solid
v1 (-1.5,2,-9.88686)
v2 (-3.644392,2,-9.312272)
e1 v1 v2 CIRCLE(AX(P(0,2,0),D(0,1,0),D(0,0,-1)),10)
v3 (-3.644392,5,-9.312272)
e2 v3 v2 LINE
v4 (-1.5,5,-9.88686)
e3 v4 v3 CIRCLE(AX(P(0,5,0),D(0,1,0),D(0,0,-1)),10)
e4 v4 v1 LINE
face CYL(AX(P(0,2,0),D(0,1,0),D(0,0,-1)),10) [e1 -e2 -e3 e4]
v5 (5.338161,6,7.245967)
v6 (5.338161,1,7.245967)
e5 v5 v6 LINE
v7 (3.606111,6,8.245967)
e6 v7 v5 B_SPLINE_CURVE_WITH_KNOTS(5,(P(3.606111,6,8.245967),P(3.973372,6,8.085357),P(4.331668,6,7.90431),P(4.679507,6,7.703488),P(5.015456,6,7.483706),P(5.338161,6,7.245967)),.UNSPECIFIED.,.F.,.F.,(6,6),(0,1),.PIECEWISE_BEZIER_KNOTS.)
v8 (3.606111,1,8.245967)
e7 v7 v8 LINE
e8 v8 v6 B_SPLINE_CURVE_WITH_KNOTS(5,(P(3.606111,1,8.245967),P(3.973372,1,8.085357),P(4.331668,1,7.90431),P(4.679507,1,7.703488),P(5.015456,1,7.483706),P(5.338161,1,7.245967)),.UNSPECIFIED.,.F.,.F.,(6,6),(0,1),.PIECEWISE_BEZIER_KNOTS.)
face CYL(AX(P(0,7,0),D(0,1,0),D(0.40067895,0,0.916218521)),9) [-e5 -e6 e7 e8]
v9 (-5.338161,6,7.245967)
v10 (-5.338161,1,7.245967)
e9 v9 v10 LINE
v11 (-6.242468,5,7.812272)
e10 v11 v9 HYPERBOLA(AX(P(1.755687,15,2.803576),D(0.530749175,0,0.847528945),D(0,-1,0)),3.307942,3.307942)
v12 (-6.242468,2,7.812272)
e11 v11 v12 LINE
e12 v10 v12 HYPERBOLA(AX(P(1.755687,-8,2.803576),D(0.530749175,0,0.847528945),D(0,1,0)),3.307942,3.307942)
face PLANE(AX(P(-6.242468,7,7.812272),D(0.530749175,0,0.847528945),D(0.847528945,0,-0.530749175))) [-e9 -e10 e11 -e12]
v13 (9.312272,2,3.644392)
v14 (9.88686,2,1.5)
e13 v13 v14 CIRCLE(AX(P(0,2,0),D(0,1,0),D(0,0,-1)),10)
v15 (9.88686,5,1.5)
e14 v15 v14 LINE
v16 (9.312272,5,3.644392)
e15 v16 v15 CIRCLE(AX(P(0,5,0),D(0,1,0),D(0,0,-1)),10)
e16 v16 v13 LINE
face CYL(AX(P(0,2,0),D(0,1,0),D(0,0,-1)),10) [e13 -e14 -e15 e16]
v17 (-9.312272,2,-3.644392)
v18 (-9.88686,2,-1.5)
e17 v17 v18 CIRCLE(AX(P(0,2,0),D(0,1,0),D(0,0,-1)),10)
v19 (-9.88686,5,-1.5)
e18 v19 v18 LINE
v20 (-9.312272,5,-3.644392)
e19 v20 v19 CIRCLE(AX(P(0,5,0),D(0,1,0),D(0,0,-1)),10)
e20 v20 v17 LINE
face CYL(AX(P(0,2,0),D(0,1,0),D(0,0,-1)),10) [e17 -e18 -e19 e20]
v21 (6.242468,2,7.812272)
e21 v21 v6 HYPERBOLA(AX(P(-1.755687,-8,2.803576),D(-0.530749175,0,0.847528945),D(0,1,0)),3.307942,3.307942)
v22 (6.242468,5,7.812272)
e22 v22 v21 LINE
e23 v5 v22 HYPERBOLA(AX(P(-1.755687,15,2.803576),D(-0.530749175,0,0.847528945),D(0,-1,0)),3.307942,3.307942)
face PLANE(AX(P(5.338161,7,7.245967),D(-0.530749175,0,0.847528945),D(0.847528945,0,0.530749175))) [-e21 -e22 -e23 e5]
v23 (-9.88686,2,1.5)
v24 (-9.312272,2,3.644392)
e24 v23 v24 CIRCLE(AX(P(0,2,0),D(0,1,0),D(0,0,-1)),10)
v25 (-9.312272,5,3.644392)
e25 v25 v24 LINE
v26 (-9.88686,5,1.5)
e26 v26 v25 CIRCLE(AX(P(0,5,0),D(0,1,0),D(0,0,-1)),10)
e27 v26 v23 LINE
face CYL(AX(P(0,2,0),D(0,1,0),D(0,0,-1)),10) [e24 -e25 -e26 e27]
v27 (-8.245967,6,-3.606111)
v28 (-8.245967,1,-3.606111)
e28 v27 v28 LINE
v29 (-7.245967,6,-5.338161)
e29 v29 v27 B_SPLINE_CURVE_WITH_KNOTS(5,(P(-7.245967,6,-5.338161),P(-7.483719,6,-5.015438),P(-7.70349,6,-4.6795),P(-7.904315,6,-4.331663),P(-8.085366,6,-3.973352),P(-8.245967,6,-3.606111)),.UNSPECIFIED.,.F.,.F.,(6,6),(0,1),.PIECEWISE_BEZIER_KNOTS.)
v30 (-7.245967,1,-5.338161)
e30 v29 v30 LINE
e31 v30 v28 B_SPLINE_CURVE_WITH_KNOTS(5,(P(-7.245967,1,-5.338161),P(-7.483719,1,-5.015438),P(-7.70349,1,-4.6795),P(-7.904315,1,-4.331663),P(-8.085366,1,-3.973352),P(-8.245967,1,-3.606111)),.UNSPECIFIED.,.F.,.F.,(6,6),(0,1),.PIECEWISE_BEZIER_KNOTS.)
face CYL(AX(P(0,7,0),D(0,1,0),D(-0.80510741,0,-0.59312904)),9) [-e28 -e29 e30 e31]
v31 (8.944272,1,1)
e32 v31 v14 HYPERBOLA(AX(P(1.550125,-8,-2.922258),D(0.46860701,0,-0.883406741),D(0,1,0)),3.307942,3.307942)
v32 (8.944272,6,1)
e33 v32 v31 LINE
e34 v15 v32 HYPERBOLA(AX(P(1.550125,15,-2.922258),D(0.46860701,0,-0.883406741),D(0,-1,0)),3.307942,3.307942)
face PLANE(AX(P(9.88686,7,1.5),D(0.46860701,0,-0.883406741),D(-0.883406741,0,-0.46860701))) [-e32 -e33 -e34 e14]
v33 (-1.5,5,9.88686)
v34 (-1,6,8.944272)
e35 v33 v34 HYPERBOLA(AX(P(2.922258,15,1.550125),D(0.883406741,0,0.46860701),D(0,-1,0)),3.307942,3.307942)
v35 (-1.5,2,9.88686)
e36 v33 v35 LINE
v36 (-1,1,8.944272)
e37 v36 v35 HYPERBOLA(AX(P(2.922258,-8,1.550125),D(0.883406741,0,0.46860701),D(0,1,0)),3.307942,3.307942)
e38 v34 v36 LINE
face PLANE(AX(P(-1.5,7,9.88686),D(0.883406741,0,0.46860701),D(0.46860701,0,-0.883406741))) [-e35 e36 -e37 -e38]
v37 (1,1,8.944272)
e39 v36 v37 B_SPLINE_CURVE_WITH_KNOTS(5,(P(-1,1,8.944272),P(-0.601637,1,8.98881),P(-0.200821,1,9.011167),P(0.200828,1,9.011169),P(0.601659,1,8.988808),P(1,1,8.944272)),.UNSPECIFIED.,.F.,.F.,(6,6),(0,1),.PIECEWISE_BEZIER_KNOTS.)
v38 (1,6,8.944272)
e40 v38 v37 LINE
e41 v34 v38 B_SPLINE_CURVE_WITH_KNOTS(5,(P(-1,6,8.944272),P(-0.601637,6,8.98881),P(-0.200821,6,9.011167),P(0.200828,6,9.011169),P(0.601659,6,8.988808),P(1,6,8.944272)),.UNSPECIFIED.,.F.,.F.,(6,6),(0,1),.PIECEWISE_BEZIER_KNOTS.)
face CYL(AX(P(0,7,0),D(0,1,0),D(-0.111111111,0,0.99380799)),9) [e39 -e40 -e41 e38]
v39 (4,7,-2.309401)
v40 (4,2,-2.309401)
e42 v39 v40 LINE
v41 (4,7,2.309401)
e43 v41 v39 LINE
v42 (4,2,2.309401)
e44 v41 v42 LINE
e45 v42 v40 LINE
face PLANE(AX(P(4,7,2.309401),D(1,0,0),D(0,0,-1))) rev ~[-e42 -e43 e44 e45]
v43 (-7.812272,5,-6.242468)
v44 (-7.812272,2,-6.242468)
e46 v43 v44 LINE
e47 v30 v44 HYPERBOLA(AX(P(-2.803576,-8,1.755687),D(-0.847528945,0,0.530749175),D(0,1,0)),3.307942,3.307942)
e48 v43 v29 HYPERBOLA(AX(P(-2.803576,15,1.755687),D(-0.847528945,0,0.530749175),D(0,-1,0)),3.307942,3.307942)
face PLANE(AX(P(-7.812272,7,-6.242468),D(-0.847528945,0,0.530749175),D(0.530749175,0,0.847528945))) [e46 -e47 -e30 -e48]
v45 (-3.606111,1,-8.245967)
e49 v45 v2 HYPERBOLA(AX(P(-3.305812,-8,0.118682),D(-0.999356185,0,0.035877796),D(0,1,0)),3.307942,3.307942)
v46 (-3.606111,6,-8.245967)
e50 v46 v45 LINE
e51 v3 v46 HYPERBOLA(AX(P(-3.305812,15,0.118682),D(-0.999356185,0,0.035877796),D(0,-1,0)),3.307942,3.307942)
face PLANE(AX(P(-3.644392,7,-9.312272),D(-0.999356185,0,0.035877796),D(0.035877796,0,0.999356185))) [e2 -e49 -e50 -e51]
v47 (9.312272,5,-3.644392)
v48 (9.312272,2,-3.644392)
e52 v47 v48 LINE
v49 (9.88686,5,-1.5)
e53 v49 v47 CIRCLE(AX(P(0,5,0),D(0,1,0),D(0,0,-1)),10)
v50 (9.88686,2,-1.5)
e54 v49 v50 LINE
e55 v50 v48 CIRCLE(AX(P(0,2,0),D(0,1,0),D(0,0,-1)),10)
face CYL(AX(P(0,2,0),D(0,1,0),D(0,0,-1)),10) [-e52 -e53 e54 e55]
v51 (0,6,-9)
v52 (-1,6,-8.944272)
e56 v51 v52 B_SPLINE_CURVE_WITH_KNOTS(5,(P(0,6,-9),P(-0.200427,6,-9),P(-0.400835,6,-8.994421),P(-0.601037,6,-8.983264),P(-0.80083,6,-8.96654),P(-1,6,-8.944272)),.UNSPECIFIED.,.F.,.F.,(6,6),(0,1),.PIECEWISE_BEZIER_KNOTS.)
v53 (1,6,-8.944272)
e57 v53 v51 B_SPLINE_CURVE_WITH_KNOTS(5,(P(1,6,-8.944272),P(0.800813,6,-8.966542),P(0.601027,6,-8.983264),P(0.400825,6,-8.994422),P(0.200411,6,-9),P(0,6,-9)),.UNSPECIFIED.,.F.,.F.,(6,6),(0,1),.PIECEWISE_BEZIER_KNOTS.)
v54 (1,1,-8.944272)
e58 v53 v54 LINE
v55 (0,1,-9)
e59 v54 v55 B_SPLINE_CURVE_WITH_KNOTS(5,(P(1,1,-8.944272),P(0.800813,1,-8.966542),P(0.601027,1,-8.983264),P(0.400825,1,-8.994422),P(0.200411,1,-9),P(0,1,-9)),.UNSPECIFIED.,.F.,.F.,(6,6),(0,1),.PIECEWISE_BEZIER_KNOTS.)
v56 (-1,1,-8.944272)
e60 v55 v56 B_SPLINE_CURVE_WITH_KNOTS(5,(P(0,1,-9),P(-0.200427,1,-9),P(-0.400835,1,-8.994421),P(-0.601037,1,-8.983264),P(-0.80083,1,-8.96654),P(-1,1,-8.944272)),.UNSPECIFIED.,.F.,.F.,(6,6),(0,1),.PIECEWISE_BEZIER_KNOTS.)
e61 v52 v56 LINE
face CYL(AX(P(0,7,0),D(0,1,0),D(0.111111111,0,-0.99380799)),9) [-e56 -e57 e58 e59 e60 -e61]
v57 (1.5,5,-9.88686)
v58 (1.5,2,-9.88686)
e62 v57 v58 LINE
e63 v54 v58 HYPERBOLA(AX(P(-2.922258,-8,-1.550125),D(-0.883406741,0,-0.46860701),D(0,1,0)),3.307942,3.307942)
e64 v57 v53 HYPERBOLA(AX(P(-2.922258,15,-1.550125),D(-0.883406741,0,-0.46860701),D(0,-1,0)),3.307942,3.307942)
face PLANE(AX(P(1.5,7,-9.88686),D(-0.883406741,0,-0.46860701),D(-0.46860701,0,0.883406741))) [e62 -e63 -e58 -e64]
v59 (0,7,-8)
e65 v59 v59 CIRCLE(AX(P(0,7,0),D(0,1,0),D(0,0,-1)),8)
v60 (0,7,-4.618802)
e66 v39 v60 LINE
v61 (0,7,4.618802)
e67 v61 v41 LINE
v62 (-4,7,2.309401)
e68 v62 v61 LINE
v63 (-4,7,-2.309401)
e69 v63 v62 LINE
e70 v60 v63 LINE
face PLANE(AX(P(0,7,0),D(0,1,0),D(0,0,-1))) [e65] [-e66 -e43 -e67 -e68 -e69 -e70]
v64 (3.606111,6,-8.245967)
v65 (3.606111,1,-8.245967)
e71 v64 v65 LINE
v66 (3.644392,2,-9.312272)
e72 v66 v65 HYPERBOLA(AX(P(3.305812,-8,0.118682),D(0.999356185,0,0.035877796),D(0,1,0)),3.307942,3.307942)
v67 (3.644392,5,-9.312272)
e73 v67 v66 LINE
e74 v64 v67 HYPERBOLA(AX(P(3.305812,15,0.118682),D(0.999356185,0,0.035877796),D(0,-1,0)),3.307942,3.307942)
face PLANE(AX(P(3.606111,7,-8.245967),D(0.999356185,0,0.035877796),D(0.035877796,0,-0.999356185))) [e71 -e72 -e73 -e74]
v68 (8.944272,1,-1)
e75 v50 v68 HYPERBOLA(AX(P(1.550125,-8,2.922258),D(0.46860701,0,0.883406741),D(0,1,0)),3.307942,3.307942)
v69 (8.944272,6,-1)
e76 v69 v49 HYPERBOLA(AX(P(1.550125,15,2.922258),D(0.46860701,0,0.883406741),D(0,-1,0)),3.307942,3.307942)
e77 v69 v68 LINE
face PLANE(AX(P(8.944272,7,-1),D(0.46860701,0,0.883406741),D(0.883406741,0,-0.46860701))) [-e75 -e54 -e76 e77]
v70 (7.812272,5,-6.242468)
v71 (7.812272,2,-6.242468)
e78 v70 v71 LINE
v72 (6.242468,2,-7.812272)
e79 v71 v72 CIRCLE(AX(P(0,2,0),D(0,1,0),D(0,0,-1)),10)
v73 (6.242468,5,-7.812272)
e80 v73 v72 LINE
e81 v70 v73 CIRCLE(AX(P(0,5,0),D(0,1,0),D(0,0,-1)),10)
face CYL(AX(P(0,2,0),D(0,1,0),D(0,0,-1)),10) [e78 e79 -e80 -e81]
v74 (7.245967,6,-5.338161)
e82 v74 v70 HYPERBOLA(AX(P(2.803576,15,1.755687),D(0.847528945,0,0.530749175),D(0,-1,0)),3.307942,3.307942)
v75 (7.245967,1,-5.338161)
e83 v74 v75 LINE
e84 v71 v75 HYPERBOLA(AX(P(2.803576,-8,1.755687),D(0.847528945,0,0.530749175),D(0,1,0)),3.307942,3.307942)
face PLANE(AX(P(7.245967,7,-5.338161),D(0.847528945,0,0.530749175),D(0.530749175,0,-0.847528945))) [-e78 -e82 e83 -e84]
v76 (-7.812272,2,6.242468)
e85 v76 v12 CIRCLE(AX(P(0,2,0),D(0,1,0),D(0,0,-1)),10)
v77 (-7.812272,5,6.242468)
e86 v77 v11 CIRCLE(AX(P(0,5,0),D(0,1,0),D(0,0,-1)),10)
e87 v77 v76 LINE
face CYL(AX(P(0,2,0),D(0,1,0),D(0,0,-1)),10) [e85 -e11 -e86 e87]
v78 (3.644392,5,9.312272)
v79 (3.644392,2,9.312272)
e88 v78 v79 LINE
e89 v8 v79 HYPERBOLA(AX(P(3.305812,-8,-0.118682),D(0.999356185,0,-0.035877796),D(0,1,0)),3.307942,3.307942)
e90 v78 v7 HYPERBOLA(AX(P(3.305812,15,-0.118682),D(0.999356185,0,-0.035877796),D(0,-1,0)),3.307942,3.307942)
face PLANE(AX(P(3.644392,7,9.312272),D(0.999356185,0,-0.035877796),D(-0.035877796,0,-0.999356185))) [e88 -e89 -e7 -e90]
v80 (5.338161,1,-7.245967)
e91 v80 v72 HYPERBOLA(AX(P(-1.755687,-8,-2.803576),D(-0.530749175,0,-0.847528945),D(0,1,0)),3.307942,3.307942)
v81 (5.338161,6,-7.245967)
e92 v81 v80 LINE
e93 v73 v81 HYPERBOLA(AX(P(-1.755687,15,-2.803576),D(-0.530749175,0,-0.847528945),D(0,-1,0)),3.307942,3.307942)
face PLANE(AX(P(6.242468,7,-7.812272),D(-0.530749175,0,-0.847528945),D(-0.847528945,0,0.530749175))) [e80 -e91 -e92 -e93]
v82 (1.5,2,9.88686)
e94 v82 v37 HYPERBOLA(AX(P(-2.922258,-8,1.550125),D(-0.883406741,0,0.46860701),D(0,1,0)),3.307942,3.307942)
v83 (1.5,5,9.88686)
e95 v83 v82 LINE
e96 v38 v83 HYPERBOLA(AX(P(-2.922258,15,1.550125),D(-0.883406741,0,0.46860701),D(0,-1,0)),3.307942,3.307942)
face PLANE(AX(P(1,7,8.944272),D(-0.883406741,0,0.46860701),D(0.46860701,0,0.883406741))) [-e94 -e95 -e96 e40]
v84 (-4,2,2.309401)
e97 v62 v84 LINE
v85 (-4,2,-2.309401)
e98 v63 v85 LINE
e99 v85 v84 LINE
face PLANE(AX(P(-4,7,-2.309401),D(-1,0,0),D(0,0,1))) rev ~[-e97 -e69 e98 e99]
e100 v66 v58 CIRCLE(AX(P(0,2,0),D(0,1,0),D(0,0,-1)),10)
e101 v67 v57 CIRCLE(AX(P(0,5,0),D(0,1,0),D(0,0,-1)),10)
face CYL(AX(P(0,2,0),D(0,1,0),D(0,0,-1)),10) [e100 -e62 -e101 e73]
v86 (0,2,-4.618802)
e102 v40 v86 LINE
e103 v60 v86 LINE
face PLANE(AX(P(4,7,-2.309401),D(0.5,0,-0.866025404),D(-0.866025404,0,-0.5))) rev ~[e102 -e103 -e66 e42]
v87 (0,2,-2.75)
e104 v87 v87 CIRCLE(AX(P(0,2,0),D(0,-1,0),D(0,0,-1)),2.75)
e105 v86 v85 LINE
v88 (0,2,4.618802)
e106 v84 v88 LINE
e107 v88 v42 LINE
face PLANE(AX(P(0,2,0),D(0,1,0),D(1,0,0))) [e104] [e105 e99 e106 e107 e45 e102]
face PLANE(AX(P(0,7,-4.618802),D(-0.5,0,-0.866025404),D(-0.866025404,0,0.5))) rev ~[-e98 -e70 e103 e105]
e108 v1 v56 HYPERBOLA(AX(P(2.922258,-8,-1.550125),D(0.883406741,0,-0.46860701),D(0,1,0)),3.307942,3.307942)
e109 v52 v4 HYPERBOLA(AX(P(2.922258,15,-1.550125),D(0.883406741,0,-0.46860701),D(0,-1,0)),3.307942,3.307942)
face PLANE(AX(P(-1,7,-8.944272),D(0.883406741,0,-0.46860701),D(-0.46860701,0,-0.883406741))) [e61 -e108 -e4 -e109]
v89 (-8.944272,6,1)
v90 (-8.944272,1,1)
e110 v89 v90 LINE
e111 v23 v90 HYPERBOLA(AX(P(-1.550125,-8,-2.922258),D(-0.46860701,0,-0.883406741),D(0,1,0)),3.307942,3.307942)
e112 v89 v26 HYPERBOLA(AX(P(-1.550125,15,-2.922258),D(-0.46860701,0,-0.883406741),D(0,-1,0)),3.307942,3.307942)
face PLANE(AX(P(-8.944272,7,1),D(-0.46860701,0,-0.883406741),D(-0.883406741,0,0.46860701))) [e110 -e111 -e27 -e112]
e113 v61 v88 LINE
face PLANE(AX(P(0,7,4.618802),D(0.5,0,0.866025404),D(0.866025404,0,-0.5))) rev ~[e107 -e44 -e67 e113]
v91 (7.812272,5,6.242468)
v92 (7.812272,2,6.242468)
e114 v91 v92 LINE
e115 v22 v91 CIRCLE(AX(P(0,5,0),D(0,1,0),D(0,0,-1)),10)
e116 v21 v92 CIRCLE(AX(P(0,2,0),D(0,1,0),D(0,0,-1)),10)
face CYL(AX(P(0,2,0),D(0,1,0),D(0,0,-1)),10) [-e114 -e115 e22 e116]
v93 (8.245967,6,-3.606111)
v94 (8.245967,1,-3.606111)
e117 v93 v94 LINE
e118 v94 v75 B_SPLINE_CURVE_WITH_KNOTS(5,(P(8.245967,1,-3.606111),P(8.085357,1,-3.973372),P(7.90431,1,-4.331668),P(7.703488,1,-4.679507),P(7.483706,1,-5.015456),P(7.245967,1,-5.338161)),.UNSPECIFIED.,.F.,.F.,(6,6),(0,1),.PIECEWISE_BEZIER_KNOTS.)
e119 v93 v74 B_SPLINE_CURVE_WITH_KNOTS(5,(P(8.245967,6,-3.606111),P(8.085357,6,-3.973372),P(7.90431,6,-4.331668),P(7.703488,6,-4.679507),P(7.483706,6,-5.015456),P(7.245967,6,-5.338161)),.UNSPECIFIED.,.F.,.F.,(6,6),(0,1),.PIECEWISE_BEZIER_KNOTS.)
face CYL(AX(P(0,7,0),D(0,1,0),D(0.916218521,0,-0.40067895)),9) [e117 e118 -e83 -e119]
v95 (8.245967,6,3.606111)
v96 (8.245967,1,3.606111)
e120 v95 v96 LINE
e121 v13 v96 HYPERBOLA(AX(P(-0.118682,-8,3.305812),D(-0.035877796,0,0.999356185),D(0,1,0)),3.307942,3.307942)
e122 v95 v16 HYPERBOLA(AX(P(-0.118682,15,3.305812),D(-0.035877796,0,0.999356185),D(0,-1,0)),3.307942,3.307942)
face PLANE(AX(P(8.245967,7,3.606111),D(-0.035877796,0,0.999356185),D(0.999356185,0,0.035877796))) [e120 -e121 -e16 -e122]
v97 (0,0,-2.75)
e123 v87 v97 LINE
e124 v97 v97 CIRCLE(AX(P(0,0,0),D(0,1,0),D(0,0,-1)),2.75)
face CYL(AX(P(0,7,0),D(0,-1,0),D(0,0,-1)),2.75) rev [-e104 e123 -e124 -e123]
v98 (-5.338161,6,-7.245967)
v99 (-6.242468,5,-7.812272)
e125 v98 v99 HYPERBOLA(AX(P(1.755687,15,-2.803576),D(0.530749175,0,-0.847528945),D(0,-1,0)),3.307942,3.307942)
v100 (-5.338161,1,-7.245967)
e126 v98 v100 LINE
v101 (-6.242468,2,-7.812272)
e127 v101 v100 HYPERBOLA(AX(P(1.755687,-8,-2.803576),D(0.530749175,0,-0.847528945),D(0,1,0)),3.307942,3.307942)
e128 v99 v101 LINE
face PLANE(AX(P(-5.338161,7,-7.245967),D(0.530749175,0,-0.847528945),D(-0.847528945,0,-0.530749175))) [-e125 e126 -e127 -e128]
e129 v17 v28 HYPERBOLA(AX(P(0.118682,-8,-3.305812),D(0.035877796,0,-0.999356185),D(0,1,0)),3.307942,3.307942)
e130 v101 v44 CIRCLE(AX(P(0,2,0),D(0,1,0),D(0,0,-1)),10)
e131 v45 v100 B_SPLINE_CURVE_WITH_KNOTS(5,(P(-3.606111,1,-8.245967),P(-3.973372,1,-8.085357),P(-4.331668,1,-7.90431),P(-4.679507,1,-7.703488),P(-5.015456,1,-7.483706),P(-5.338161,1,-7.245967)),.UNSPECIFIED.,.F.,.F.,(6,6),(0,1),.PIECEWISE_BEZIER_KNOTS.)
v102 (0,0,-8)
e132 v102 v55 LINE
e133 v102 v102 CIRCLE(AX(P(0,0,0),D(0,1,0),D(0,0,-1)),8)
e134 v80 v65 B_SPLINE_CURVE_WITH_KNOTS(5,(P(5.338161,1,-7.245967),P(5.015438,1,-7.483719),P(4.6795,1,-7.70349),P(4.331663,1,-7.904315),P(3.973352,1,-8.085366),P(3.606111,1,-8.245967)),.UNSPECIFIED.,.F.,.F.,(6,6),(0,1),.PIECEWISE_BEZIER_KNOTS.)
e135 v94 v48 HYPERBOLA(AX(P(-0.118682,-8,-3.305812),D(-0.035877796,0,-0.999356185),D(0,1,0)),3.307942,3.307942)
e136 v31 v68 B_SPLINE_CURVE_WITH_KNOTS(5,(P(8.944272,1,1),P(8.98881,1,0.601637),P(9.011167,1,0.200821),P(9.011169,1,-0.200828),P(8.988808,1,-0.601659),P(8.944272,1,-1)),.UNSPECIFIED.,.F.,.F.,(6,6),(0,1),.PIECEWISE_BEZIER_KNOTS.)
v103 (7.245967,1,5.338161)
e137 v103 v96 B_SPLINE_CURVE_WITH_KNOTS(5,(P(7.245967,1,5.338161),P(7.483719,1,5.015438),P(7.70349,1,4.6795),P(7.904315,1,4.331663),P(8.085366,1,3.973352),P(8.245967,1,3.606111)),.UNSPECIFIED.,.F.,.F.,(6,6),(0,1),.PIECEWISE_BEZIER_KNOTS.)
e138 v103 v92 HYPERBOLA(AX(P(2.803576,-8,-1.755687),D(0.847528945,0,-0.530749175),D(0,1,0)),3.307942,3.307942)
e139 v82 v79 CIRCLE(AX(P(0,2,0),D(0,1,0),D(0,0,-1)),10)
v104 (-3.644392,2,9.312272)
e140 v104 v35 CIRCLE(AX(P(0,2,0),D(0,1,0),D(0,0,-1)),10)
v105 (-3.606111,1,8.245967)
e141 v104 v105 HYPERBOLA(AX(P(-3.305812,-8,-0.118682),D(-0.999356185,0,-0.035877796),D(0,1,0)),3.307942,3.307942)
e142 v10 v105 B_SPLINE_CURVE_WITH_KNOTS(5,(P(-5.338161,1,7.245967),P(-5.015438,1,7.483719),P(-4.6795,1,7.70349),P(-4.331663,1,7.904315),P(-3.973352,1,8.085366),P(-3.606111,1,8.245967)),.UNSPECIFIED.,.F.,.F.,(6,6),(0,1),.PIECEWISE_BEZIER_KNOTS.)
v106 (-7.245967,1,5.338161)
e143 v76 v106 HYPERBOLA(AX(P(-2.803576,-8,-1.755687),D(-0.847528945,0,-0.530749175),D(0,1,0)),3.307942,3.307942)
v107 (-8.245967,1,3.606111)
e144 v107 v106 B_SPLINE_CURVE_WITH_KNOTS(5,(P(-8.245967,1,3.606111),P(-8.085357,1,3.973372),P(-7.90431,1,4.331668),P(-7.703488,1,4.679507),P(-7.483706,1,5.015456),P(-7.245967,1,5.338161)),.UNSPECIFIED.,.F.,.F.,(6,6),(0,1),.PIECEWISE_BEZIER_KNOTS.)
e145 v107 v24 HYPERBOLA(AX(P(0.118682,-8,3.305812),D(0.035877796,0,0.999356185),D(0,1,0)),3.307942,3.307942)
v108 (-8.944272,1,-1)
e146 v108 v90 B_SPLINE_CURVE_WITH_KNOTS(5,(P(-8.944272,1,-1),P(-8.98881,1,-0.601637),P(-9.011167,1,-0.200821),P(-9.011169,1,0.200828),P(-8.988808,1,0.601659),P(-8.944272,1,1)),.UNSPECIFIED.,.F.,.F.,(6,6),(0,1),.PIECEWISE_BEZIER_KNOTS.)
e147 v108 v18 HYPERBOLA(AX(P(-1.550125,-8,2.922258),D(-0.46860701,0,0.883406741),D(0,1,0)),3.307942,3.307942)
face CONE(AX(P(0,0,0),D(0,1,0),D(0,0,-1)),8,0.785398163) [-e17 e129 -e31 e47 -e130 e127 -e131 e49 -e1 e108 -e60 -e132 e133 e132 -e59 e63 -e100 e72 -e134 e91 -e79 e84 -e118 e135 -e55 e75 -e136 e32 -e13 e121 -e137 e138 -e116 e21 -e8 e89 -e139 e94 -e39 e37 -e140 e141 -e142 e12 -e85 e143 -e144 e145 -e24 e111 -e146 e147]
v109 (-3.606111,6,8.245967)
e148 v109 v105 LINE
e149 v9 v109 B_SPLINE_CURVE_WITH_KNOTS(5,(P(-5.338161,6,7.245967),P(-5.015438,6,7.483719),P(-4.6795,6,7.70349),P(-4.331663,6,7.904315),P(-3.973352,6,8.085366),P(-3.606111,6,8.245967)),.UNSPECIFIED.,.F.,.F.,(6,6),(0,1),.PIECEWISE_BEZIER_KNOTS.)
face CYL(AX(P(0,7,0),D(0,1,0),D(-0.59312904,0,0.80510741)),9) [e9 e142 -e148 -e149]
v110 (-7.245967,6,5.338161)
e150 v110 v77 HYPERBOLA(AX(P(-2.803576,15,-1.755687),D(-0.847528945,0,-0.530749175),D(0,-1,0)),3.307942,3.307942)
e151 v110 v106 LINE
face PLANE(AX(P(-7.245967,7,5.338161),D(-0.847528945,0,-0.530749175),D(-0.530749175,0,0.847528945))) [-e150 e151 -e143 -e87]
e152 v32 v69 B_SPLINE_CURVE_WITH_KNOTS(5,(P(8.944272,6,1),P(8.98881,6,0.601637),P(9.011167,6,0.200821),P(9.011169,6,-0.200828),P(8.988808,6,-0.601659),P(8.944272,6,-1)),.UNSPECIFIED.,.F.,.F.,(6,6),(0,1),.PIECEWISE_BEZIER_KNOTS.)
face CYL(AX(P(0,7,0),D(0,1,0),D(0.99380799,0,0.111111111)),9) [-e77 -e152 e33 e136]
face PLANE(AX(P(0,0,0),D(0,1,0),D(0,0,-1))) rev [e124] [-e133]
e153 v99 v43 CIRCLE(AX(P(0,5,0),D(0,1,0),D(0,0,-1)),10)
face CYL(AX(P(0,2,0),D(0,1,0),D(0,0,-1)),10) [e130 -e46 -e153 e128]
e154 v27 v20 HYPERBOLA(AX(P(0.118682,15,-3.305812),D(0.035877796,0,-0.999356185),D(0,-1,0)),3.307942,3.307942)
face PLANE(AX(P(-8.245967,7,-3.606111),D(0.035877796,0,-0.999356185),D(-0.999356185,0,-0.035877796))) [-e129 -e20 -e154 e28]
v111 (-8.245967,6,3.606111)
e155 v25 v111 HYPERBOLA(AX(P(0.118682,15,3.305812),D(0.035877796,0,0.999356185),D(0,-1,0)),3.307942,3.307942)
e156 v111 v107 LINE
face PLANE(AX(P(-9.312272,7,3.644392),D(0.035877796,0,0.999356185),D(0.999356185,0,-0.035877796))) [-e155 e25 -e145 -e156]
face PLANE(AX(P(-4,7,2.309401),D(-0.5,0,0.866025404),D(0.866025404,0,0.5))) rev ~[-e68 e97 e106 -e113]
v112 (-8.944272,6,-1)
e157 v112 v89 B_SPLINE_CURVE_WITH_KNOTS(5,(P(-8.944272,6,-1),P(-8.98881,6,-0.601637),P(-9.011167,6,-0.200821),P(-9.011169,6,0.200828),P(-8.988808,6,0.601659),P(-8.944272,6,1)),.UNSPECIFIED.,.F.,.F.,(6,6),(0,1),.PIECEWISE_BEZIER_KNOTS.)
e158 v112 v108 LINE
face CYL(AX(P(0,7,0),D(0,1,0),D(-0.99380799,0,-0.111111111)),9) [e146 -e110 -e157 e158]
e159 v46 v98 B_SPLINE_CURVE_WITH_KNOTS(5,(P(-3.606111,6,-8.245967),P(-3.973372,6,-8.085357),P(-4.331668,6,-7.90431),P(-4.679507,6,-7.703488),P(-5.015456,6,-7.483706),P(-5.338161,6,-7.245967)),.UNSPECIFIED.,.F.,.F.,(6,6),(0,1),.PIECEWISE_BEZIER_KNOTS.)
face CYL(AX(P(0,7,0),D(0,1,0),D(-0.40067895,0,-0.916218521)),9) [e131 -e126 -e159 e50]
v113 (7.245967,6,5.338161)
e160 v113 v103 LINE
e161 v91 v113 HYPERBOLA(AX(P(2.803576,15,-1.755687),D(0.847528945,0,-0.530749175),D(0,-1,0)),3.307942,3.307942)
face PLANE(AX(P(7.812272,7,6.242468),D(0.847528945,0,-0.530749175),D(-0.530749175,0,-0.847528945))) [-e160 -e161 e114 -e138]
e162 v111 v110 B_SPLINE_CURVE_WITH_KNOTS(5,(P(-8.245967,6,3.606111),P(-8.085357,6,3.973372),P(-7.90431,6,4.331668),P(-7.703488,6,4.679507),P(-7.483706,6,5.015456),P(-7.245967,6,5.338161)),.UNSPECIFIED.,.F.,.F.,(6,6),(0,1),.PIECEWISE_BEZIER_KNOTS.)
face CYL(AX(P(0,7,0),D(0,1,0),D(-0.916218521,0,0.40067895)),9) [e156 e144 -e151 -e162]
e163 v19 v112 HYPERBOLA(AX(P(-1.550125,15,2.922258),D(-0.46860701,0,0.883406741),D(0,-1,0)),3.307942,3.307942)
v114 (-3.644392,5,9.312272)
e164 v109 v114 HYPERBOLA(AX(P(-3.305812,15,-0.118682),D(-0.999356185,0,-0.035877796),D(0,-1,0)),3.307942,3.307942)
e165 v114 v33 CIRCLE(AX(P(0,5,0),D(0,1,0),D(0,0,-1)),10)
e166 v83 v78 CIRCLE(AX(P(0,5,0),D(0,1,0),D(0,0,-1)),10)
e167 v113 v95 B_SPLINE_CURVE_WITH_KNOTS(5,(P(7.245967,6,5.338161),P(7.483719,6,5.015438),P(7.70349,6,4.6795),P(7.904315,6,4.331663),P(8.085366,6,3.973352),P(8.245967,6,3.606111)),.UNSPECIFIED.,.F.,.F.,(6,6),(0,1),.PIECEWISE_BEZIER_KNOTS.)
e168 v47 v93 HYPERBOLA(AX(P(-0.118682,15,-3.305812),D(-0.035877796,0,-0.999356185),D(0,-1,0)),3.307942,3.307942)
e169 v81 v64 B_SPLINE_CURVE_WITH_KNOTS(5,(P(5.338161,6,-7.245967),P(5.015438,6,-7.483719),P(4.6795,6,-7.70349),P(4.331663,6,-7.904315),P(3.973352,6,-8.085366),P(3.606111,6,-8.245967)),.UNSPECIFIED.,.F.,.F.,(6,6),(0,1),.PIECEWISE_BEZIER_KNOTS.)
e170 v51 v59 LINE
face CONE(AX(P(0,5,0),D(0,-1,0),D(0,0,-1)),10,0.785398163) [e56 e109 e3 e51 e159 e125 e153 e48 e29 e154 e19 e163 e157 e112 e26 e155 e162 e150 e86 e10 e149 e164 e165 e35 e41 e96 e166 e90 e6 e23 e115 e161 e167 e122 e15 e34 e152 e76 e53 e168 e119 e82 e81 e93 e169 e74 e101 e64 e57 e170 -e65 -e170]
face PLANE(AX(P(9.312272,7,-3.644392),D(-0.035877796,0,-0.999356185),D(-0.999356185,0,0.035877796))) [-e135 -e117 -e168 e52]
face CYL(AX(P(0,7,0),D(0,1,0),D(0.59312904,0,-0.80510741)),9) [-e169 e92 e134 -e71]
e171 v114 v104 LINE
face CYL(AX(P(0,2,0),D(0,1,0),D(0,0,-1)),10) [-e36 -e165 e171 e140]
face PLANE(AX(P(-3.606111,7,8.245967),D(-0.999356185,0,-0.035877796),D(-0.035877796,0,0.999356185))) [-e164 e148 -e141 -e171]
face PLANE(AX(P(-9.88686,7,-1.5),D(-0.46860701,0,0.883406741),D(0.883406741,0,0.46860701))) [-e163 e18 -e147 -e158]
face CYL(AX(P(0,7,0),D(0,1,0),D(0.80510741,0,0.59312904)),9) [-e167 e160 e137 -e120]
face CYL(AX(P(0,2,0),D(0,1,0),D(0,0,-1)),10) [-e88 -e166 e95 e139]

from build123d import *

# Parameters (mm, degrees)
ODEBRAT_VYSUNUT_M1_DEPTH = 5
ODEBRAT_VYSUNUT_M2_DEPTH = 8
KRUHOV_POLE1_COUNT       = 12


with BuildPart() as part:
    # Skica1 → Rotovat1 (revolve)
    with BuildSketch(Plane(origin=(0, 0, 0), x_dir=(0, 0, -1), z_dir=(1, 0, 0))):
        Polygon((2.75, 0), (8, 0), (10, 2), (10, 5), (8, 7), (2.75, 7), align=None)
    revolve(axis=Axis((0, 0, 0), (0, 1, 0)))

    # Skica2 → Odebrat vysunutím1 (cut)
    with BuildSketch(Plane(origin=(0, 7, 0), x_dir=(1, 0, 0), z_dir=(0, 1, 0))):
        Polygon((-4, -2.309401077), (0, -4.618802154), (4, -2.309401077), (4, 2.309401077), (0, 4.618802154), (-4, 2.309401077), align=None)
    extrude(amount=-ODEBRAT_VYSUNUT_M1_DEPTH, mode=Mode.SUBTRACT)

    # Skica3 → Odebrat vysunutím2 (cut, through all)
    with BuildSketch(Plane(origin=(0, 7, 0), x_dir=(1, 0, 0), z_dir=(0, 1, 0))):
        with BuildLine():
            Line((-1, 8.94427191), (-1.5, 9.886859967))
            ThreePointArc((-1.5, 9.886859967), (0, 10), (1.5, 9.886859967))
            Line((1.5, 9.886859967), (1, 8.94427191))
            ThreePointArc((1, 8.94427191), (0, 9), (-1, 8.94427191))
        make_face()
    odebrat_vysunut_m2 = extrude(amount=-ODEBRAT_VYSUNUT_M2_DEPTH, mode=Mode.SUBTRACT)

    # Kruhové pole1: Odebrat vysunutím2 ×12 about axis
    kruhov_pole1_axis = Axis((0, 0, 0), (0, 1, 0))
    for i in range(1, KRUHOV_POLE1_COUNT):
        add(odebrat_vysunut_m2.rotate(kruhov_pole1_axis, i * 360 / KRUHOV_POLE1_COUNT), mode=Mode.SUBTRACT)


solid = part.part
